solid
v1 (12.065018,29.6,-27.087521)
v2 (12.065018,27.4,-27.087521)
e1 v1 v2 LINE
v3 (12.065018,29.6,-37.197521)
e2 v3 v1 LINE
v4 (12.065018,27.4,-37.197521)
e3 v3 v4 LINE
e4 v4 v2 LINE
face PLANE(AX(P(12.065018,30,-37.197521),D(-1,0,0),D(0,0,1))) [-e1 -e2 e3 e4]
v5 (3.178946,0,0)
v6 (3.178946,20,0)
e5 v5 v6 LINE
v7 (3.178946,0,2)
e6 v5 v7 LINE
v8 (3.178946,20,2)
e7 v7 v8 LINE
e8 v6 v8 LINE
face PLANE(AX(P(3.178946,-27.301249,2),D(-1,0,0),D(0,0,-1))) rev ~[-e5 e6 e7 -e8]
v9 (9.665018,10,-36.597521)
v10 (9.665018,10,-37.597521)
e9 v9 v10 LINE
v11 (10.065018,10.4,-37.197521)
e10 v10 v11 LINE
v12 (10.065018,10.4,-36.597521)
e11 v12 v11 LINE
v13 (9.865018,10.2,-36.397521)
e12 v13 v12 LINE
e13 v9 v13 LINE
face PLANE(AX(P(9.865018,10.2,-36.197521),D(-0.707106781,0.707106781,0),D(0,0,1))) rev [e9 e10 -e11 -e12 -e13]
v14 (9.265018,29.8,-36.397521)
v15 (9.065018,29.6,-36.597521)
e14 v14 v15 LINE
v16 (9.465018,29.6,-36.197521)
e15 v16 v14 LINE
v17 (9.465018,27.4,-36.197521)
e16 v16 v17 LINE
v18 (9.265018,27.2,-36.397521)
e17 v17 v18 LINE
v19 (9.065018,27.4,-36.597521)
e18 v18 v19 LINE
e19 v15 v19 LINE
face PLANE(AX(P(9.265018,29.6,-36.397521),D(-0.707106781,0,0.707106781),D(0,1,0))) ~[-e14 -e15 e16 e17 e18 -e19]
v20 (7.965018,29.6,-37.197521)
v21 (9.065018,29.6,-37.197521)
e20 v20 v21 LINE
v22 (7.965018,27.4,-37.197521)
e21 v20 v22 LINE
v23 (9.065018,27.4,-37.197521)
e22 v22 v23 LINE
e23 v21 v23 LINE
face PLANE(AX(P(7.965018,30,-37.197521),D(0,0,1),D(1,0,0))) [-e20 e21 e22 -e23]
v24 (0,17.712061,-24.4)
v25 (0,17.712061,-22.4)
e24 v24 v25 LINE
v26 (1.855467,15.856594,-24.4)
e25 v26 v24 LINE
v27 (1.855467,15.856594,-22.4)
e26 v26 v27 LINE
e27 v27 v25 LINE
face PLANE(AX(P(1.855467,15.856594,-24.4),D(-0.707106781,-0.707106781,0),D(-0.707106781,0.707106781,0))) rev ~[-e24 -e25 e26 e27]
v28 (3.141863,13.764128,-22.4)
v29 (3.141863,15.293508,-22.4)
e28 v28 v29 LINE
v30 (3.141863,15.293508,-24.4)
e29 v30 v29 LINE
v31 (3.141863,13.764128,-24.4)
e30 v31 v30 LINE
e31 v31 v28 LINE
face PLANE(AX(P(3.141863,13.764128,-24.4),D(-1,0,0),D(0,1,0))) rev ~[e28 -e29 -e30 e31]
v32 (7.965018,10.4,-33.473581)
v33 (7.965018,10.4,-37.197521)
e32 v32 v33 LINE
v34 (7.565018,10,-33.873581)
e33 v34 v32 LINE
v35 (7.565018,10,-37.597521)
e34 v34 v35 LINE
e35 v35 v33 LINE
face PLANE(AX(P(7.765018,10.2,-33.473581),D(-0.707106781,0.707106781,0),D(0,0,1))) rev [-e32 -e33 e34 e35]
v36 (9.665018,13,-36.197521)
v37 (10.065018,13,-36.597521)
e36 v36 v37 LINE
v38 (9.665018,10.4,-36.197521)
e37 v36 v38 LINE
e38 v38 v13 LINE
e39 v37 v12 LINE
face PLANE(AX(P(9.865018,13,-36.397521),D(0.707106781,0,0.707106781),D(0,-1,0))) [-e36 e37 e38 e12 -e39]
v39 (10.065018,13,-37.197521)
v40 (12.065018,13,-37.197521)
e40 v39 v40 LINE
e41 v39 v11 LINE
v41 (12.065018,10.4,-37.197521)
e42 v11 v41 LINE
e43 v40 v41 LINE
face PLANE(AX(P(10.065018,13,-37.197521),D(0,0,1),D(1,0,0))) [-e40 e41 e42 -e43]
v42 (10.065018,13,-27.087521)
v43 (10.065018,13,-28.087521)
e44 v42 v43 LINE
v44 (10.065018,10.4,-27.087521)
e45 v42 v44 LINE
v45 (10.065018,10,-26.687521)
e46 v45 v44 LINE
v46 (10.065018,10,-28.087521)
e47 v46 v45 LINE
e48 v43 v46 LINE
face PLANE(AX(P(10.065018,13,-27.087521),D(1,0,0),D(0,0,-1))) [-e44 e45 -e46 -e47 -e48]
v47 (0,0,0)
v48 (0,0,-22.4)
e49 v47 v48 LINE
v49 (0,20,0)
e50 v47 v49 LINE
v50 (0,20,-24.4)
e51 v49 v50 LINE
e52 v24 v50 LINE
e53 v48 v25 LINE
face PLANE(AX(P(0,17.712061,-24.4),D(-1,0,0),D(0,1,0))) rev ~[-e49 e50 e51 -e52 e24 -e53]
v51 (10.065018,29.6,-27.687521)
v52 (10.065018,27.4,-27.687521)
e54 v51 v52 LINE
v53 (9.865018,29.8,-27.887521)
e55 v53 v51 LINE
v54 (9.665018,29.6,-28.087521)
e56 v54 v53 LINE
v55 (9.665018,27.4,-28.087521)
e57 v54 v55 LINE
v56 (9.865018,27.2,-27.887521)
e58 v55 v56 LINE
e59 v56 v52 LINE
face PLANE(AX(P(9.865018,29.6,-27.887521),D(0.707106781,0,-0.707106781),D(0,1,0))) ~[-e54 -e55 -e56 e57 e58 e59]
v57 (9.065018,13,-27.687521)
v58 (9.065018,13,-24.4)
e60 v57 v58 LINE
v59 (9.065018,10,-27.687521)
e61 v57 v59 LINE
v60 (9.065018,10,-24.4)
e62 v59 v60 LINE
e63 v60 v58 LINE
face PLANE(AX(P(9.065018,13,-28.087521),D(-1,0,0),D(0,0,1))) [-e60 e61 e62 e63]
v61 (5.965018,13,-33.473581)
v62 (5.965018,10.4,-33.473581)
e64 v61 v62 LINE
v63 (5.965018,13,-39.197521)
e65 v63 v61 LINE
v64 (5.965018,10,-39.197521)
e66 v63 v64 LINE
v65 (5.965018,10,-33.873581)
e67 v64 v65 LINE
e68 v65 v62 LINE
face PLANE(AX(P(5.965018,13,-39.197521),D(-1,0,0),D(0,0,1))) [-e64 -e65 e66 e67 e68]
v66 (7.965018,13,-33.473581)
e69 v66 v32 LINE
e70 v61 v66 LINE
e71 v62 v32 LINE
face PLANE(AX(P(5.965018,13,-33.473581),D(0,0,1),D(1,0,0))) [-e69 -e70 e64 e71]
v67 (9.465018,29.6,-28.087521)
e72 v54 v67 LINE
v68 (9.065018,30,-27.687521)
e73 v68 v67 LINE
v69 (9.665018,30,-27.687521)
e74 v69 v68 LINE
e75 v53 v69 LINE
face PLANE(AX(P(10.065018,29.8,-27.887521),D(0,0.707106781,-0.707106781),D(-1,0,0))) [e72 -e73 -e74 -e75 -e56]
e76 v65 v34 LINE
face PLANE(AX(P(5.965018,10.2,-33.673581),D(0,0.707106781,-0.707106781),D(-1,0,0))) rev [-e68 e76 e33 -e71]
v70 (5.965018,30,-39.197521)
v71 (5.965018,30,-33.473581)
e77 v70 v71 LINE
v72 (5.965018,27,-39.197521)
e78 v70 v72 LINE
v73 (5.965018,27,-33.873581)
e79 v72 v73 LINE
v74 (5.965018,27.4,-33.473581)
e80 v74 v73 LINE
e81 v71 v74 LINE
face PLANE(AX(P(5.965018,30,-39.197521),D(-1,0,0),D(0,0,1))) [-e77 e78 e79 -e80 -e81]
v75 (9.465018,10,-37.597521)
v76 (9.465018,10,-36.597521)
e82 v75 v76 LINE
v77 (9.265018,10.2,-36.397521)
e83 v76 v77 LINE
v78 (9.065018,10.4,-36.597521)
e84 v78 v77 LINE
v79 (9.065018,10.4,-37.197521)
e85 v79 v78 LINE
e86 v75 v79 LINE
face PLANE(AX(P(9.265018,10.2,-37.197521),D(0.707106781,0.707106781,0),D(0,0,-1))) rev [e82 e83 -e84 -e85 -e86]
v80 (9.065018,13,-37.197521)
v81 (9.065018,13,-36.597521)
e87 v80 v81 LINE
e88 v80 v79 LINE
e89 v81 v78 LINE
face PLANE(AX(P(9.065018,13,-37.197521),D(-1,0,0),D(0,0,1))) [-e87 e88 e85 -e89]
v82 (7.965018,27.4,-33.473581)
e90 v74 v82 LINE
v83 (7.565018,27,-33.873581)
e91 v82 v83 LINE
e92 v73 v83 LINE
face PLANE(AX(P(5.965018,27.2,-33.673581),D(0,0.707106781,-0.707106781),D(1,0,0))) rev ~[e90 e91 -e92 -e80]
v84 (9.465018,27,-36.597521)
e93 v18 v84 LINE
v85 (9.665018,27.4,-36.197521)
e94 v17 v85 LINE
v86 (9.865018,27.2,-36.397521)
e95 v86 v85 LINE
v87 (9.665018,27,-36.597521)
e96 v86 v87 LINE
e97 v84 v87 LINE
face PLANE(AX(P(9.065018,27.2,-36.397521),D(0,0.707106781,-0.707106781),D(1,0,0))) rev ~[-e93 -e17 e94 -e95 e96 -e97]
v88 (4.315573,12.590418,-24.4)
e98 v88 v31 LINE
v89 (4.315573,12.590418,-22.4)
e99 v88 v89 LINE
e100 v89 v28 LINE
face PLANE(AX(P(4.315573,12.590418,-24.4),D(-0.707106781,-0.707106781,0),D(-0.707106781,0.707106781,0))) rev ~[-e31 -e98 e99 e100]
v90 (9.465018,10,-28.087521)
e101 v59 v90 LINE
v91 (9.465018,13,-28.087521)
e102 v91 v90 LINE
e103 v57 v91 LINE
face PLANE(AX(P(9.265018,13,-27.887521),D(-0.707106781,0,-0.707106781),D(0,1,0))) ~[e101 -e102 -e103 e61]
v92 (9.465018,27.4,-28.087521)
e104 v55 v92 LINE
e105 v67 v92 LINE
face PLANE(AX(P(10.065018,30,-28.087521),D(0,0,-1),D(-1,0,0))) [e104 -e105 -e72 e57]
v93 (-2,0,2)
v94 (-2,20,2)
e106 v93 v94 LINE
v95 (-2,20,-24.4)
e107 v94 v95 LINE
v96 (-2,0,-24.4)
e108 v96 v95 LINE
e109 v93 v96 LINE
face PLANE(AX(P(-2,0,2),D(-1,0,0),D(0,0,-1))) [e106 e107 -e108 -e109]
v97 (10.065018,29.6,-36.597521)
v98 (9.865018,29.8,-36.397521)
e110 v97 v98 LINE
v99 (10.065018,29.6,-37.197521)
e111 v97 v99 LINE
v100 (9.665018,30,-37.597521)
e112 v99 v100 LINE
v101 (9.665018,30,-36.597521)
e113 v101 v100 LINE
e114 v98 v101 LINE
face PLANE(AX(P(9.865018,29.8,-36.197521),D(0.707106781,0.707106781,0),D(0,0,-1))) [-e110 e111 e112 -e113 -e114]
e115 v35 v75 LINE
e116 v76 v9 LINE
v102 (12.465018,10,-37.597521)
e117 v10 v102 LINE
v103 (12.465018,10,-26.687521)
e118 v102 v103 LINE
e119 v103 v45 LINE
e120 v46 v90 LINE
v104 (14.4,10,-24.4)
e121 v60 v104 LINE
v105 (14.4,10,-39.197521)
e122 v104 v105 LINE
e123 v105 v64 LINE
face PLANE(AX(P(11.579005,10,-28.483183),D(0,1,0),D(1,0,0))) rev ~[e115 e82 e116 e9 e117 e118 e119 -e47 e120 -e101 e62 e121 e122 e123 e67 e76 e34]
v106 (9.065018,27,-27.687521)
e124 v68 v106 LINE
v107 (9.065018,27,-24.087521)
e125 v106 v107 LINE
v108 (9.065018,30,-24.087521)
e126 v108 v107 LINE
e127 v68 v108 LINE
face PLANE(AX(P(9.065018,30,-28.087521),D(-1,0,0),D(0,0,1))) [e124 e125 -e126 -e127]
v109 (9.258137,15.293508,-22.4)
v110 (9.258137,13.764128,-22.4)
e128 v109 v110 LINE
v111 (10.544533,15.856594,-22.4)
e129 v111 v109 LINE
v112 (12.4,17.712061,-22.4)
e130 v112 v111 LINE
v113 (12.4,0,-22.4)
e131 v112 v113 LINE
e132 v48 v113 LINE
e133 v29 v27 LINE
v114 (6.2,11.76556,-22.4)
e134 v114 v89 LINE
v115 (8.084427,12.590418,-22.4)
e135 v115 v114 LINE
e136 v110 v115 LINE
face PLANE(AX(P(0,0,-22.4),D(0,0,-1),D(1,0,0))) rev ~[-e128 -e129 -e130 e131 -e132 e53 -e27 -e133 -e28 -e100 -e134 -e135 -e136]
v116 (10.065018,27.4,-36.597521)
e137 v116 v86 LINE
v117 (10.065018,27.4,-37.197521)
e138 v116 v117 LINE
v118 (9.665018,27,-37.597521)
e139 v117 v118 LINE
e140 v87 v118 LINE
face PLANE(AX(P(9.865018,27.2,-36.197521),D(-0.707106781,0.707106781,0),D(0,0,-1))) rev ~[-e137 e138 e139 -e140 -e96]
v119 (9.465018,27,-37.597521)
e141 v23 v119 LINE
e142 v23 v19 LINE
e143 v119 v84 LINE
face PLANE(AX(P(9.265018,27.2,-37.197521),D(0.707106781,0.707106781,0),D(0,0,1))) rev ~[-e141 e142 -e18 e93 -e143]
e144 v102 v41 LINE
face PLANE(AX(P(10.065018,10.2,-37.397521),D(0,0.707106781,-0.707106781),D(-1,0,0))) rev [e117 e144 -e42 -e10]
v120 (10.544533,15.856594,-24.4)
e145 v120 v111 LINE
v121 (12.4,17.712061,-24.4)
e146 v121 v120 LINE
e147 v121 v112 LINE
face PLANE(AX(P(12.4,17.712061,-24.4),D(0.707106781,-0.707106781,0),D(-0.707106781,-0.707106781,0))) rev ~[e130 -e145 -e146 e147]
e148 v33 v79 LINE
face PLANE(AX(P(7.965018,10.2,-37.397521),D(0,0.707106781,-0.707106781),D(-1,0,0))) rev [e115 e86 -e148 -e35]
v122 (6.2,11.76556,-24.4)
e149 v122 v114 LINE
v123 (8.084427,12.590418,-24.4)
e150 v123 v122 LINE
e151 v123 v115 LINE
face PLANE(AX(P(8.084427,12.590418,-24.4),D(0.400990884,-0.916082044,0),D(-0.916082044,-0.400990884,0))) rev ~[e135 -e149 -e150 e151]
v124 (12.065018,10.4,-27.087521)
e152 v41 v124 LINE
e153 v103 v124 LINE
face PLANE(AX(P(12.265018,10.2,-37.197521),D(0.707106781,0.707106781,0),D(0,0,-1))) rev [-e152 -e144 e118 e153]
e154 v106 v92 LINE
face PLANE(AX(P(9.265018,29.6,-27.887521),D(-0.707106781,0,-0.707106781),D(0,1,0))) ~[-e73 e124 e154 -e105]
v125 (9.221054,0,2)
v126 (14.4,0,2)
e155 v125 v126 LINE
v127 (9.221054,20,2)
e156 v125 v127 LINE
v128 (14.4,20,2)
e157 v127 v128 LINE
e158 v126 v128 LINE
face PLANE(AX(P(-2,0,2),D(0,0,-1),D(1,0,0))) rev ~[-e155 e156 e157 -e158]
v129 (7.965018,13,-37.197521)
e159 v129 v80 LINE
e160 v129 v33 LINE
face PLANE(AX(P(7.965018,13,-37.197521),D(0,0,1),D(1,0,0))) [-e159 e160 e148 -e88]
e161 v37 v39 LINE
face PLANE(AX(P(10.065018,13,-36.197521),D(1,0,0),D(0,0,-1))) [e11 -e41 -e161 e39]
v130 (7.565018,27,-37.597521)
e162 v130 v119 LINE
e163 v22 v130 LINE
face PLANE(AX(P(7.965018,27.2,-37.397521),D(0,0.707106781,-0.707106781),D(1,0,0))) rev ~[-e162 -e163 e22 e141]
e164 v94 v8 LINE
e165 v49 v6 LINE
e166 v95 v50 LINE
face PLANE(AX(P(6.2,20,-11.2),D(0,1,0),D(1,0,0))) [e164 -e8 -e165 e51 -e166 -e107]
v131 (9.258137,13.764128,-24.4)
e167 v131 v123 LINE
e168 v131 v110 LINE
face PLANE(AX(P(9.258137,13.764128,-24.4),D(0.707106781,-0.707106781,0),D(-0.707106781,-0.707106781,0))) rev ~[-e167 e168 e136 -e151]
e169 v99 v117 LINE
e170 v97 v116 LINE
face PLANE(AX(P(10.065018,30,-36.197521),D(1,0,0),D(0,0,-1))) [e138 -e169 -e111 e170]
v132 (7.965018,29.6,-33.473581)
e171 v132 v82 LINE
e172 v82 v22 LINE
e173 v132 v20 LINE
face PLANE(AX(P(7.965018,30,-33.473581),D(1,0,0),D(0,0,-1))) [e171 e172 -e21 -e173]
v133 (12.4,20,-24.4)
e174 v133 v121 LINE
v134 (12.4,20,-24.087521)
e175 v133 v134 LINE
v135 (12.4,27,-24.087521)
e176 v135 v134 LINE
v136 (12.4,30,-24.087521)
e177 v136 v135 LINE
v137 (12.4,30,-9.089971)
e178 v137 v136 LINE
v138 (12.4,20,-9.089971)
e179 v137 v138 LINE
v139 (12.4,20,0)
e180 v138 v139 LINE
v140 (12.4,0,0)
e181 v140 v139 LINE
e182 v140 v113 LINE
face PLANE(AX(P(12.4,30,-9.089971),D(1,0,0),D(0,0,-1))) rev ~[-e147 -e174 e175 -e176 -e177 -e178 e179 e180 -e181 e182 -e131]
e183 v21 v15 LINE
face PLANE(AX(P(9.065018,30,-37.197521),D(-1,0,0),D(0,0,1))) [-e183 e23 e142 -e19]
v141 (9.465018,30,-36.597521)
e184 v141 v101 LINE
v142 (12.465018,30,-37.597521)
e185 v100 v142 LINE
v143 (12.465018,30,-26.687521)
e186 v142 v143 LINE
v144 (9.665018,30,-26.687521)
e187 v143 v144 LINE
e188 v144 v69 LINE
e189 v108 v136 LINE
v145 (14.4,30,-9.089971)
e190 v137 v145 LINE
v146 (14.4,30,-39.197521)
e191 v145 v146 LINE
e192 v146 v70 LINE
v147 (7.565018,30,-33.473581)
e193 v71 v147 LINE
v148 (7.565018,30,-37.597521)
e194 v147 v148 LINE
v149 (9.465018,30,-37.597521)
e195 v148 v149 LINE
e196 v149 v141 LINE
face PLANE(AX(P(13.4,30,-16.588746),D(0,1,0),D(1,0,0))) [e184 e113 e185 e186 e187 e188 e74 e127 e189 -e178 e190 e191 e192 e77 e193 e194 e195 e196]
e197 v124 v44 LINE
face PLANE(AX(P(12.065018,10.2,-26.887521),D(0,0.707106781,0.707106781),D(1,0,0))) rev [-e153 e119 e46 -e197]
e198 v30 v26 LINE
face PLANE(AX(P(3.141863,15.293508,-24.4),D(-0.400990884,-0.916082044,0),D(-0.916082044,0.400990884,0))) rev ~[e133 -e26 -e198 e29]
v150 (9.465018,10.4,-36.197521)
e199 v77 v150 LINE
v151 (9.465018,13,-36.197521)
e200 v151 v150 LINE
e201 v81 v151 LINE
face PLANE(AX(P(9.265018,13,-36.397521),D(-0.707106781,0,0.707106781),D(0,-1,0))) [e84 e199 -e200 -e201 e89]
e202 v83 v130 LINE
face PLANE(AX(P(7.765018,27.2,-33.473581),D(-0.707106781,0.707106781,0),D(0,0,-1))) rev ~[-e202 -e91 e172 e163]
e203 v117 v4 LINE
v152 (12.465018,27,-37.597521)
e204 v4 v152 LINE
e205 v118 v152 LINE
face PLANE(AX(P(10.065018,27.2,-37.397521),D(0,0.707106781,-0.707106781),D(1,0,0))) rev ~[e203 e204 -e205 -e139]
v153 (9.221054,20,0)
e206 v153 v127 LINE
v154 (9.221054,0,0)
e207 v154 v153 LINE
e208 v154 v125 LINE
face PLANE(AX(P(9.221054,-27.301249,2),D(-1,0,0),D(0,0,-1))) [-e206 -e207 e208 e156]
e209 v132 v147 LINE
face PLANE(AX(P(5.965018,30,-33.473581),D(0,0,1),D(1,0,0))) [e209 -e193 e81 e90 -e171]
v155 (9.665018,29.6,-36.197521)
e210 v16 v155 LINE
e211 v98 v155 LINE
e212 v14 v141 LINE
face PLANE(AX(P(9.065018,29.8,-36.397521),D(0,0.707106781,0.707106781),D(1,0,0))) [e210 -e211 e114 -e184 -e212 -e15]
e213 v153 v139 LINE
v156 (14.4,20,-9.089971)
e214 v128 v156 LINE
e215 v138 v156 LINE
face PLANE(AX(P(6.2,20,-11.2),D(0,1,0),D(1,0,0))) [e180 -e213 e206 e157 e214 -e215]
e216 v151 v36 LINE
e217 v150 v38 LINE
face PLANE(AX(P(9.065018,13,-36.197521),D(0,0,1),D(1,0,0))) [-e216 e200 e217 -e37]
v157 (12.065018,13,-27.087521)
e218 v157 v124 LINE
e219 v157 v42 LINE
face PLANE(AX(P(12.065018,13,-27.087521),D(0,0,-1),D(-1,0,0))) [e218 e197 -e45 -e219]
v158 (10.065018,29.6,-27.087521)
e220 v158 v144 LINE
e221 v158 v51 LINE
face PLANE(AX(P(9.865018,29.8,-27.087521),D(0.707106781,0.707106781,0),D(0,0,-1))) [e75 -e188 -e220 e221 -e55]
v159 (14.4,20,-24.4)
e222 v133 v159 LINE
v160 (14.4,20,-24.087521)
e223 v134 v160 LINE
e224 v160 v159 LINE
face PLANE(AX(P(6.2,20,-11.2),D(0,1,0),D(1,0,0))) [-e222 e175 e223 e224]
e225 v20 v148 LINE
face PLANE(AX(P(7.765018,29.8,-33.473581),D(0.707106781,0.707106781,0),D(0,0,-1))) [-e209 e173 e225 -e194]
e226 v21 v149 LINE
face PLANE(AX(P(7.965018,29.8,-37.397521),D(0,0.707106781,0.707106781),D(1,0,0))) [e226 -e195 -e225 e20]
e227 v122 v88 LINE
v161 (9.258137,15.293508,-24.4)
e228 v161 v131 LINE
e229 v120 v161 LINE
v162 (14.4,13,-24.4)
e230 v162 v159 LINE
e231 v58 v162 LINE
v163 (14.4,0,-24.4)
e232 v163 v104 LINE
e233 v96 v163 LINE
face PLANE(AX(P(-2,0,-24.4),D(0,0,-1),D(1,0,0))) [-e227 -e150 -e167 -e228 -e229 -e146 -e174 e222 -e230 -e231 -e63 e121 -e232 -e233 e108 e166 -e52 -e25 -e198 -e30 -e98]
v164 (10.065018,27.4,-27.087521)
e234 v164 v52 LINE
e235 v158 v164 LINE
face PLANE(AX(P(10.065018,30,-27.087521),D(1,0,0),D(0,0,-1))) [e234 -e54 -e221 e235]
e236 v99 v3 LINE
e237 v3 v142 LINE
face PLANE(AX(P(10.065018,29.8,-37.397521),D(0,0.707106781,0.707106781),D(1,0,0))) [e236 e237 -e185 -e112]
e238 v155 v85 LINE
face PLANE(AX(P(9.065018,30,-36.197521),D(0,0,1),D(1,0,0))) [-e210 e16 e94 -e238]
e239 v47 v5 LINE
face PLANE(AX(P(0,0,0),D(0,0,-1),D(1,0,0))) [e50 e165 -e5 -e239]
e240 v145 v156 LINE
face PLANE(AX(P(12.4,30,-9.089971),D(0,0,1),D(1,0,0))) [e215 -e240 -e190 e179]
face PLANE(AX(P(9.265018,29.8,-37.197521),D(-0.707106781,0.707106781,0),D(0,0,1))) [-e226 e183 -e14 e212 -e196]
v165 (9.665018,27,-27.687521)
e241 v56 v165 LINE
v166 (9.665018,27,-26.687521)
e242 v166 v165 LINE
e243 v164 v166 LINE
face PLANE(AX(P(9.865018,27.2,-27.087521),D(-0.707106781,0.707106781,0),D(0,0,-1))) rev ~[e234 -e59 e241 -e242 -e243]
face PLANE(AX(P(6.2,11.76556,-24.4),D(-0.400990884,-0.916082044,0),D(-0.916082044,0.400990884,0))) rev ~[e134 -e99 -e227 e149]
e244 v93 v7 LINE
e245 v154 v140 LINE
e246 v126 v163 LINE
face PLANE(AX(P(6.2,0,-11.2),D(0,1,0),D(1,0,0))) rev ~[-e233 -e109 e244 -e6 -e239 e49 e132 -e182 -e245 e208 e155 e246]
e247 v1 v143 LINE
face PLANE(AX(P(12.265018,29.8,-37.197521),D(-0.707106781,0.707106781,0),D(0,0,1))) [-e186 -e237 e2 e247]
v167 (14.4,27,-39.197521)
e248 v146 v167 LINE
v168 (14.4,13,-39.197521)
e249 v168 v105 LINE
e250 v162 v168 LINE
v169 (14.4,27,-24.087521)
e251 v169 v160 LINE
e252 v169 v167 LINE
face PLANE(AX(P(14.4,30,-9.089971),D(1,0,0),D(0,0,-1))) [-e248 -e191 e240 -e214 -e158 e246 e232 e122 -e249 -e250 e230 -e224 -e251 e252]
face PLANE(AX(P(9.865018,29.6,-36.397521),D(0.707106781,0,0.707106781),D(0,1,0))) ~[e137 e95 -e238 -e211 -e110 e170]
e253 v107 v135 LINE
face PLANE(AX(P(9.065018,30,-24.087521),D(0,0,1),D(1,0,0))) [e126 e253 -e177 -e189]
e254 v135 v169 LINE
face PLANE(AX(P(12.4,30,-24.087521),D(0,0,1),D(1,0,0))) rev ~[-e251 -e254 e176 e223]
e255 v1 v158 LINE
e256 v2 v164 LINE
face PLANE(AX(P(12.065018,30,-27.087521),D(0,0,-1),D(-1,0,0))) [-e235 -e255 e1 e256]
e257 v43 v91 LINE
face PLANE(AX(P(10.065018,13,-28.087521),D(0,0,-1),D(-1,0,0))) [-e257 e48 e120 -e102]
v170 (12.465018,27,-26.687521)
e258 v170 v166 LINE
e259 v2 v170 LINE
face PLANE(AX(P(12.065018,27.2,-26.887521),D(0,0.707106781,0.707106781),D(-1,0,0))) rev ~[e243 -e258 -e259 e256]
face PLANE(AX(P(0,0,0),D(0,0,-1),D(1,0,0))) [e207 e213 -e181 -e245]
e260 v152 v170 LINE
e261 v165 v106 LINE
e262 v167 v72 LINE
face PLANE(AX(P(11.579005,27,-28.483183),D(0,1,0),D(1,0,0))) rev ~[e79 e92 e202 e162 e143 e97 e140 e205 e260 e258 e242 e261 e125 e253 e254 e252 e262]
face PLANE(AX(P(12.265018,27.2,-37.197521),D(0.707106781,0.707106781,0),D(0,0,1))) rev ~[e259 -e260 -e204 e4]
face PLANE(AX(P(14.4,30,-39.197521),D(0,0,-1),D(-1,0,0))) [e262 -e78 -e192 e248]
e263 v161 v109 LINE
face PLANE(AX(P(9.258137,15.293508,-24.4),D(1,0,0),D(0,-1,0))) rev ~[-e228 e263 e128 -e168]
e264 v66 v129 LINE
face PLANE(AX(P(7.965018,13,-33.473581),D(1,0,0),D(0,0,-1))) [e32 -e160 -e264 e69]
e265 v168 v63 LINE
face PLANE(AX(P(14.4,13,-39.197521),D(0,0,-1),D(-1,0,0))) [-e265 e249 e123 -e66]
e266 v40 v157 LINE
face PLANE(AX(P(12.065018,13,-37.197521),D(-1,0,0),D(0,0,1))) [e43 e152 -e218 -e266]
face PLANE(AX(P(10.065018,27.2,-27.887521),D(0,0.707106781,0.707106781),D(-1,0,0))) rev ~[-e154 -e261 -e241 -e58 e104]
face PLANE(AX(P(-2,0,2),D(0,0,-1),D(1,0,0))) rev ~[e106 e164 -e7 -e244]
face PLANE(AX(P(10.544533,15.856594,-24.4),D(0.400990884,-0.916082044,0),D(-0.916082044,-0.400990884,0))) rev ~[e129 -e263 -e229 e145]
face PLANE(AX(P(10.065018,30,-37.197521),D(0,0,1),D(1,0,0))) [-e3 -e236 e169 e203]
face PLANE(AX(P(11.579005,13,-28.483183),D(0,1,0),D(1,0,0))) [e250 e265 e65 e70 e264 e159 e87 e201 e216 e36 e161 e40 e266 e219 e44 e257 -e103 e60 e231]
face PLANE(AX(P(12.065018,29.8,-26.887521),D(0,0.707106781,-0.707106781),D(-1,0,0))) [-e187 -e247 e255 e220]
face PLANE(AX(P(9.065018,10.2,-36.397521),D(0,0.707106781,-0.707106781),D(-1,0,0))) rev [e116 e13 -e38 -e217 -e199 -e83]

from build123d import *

# Parameters (mm, degrees)
SKETCH1_W               = 16.4
SKETCH1_H               = 26.4
SKETCH1_W_2             = 12.4
SKETCH1_H_2             = 22.4
BOSS_EXTRUDE1_DEPTH     = 20
CUT_EXTRUDE1_DEPTH      = 10
BOSS_EXTRUDE2_DEPTH     = 3
CHAMFER3_SIZE           = 0.4
SKETCH5_W               = 2
SKETCH5_H               = 14.997550085
BOSS_EXTRUDE3_DEPTH     = 10
LPATTERN1_COUNT         = 2
LPATTERN1_PITCH         = 17
CHAMFER1_SIZE           = 0.4
CHAMFER5_SIZE           = 0.4
CHAMFER6_SIZE           = 0.4
CUT_EXTRUDE2_DEPTH      = 47.301249176
CUT_EXTRUDE2_DEPTH_BACK = 47.301249176
SKETCH6_W               = 6.042108652
SKETCH6_H               = 2


with BuildPart() as part:
    # Sketch1 → Boss-Extrude1 (new body)
    with BuildSketch(Plane(origin=(0, 0, 0), x_dir=(1, 0, 0), z_dir=(0, 1, 0))):
        with Locations((6.2, 11.2)):
            Rectangle(SKETCH1_W, SKETCH1_H)
        with Locations((6.2, 11.2)):
            Rectangle(SKETCH1_W_2, SKETCH1_H_2, mode=Mode.SUBTRACT)
    extrude(amount=BOSS_EXTRUDE1_DEPTH)

    # Sketch2 → Cut-Extrude1 (cut)
    with BuildSketch(Plane(origin=(0, 0, -24.4), x_dir=(-1, 0, 0), z_dir=(0, 0, -1))):
        Polygon((-12.4, 20), (-12.4, 17.712061235), (-10.544532553, 15.856593788), (-9.258136531, 15.293507674), (-9.258136531, 13.764128217), (-8.084426715, 12.5904184), (-6.2, 11.765560038), (-4.315573285, 12.5904184), (-3.141863469, 13.764128217), (-3.141863469, 15.293507674), (-1.855467447, 15.856593788), (0, 17.712061235), (0, 20), align=None)
    extrude(amount=-CUT_EXTRUDE1_DEPTH, mode=Mode.SUBTRACT)



with BuildPart() as body_2:
    # Sketch4 → Boss-Extrude2 (new body)
    with BuildSketch(Plane(origin=(0, 30, 0), x_dir=(1, 0, 0), z_dir=(0, 1, 0))):
        Polygon((12.4, 12.2), (14.4, 12.2), (14.4, 39.19752129), (12.472658245, 39.19752129), (7.96501827, 39.19752129), (5.96501827, 39.19752129), (5.96501827, 33.473580557), (7.96501827, 33.473580557), (7.96501827, 37.19752129), (9.06501827, 37.19752129), (9.06501827, 36.19752129), (10.06501827, 36.19752129), (10.06501827, 37.19752129), (12.06501827, 37.19752129), (12.06501827, 27.08752129), (10.06501827, 27.08752129), (10.06501827, 28.08752129), (9.06501827, 28.08752129), (9.06501827, 24.08752129), (12.4, 24.08752129), align=None)
    boss_extrude2 = extrude(amount=-BOSS_EXTRUDE2_DEPTH)

    # Chamfer3
    chamfer3_edges = [body_2.edges().sort_by_distance(p)[0] for p in [
        (6.96501827, 27, -33.473580557),
        (7.96501827, 27, -35.335550923),
        (8.51501827, 27, -37.19752129),
        (9.06501827, 27, -36.69752129),
        (9.56501827, 27, -36.19752129),
        (10.06501827, 27, -36.69752129),
        (11.06501827, 27, -37.19752129),
        (9.56501827, 27, -28.08752129),
        (10.06501827, 27, -27.58752129),
        (11.06501827, 27, -27.08752129),
        (12.06501827, 27, -32.14252129),
    ]]
    chamfer(chamfer3_edges, length=CHAMFER3_SIZE)


with BuildPart() as part_1:
    add(part.part)

    add(body_2.part)  # Boss-Extrude3 merges body 2
    # Sketch5 → Boss-Extrude3 (add)
    with BuildSketch(Plane(origin=(0, 30, 0), x_dir=(1, 0, 0), z_dir=(0, 1, 0))):
        with Locations((13.4, 16.588746248)):
            Rectangle(SKETCH5_W, SKETCH5_H)
    extrude(amount=-BOSS_EXTRUDE3_DEPTH)

    # LPattern1: Boss-Extrude2 ×2
    with Locations(*[(0, -i * LPATTERN1_PITCH, 0) for i in range(1, LPATTERN1_COUNT)]):
        add(boss_extrude2)

    # Chamfer1
    chamfer1_edges = [part_1.edges().sort_by_distance(p)[0] for p in [
        (9.56501827, 30, -28.08752129),
        (10.06501827, 30, -27.58752129),
        (7.96501827, 30, -35.335550923),
        (8.51501827, 30, -37.19752129),
        (9.06501827, 30, -36.69752129),
        (9.56501827, 30, -36.19752129),
        (10.06501827, 30, -36.69752129),
        (11.06501827, 30, -27.08752129),
        (11.06501827, 30, -37.19752129),
        (12.06501827, 30, -32.14252129),
    ]]
    chamfer(chamfer1_edges, length=CHAMFER1_SIZE)

    # Chamfer5
    chamfer5_edges = [part_1.edges().sort_by_distance(p)[0] for p in [
        (6.96501827, 10, -33.473580557),
        (7.96501827, 10, -35.335550923),
        (8.51501827, 10, -37.19752129),
        (9.06501827, 10, -36.69752129),
        (9.56501827, 10, -36.19752129),
        (10.06501827, 10, -36.69752129),
        (11.06501827, 10, -37.19752129),
        (12.06501827, 10, -32.14252129),
        (11.06501827, 10, -27.08752129),
    ]]
    chamfer(chamfer5_edges, length=CHAMFER5_SIZE)

    # Chamfer6
    chamfer6_edges = [part_1.edges().sort_by_distance(p)[0] for p in [
        (9.06501827, 28.5, -28.08752129),
        (10.06501827, 28.5, -28.08752129),
        (10.06501827, 28.5, -36.19752129),
        (9.06501827, 28.5, -36.19752129),
        (10.06501827, 11.7, -36.19752129),
        (9.06501827, 11.7, -36.19752129),
        (9.06501827, 11.5, -28.08752129),
    ]]
    chamfer(chamfer6_edges, length=CHAMFER6_SIZE)

    # Sketch6 → Cut-Extrude2 (cut, two sides: drawn at the far end of the back side and taken through both)
    with BuildSketch(Plane(origin=(0, 20, 0), x_dir=(1, 0, 0), z_dir=(0, 1, 0)).offset(-CUT_EXTRUDE2_DEPTH_BACK)):
        with Locations((6.2, -1)):
            Rectangle(SKETCH6_W, SKETCH6_H)
    extrude(amount=CUT_EXTRUDE2_DEPTH + CUT_EXTRUDE2_DEPTH_BACK, mode=Mode.SUBTRACT)


solid = part_1.part
